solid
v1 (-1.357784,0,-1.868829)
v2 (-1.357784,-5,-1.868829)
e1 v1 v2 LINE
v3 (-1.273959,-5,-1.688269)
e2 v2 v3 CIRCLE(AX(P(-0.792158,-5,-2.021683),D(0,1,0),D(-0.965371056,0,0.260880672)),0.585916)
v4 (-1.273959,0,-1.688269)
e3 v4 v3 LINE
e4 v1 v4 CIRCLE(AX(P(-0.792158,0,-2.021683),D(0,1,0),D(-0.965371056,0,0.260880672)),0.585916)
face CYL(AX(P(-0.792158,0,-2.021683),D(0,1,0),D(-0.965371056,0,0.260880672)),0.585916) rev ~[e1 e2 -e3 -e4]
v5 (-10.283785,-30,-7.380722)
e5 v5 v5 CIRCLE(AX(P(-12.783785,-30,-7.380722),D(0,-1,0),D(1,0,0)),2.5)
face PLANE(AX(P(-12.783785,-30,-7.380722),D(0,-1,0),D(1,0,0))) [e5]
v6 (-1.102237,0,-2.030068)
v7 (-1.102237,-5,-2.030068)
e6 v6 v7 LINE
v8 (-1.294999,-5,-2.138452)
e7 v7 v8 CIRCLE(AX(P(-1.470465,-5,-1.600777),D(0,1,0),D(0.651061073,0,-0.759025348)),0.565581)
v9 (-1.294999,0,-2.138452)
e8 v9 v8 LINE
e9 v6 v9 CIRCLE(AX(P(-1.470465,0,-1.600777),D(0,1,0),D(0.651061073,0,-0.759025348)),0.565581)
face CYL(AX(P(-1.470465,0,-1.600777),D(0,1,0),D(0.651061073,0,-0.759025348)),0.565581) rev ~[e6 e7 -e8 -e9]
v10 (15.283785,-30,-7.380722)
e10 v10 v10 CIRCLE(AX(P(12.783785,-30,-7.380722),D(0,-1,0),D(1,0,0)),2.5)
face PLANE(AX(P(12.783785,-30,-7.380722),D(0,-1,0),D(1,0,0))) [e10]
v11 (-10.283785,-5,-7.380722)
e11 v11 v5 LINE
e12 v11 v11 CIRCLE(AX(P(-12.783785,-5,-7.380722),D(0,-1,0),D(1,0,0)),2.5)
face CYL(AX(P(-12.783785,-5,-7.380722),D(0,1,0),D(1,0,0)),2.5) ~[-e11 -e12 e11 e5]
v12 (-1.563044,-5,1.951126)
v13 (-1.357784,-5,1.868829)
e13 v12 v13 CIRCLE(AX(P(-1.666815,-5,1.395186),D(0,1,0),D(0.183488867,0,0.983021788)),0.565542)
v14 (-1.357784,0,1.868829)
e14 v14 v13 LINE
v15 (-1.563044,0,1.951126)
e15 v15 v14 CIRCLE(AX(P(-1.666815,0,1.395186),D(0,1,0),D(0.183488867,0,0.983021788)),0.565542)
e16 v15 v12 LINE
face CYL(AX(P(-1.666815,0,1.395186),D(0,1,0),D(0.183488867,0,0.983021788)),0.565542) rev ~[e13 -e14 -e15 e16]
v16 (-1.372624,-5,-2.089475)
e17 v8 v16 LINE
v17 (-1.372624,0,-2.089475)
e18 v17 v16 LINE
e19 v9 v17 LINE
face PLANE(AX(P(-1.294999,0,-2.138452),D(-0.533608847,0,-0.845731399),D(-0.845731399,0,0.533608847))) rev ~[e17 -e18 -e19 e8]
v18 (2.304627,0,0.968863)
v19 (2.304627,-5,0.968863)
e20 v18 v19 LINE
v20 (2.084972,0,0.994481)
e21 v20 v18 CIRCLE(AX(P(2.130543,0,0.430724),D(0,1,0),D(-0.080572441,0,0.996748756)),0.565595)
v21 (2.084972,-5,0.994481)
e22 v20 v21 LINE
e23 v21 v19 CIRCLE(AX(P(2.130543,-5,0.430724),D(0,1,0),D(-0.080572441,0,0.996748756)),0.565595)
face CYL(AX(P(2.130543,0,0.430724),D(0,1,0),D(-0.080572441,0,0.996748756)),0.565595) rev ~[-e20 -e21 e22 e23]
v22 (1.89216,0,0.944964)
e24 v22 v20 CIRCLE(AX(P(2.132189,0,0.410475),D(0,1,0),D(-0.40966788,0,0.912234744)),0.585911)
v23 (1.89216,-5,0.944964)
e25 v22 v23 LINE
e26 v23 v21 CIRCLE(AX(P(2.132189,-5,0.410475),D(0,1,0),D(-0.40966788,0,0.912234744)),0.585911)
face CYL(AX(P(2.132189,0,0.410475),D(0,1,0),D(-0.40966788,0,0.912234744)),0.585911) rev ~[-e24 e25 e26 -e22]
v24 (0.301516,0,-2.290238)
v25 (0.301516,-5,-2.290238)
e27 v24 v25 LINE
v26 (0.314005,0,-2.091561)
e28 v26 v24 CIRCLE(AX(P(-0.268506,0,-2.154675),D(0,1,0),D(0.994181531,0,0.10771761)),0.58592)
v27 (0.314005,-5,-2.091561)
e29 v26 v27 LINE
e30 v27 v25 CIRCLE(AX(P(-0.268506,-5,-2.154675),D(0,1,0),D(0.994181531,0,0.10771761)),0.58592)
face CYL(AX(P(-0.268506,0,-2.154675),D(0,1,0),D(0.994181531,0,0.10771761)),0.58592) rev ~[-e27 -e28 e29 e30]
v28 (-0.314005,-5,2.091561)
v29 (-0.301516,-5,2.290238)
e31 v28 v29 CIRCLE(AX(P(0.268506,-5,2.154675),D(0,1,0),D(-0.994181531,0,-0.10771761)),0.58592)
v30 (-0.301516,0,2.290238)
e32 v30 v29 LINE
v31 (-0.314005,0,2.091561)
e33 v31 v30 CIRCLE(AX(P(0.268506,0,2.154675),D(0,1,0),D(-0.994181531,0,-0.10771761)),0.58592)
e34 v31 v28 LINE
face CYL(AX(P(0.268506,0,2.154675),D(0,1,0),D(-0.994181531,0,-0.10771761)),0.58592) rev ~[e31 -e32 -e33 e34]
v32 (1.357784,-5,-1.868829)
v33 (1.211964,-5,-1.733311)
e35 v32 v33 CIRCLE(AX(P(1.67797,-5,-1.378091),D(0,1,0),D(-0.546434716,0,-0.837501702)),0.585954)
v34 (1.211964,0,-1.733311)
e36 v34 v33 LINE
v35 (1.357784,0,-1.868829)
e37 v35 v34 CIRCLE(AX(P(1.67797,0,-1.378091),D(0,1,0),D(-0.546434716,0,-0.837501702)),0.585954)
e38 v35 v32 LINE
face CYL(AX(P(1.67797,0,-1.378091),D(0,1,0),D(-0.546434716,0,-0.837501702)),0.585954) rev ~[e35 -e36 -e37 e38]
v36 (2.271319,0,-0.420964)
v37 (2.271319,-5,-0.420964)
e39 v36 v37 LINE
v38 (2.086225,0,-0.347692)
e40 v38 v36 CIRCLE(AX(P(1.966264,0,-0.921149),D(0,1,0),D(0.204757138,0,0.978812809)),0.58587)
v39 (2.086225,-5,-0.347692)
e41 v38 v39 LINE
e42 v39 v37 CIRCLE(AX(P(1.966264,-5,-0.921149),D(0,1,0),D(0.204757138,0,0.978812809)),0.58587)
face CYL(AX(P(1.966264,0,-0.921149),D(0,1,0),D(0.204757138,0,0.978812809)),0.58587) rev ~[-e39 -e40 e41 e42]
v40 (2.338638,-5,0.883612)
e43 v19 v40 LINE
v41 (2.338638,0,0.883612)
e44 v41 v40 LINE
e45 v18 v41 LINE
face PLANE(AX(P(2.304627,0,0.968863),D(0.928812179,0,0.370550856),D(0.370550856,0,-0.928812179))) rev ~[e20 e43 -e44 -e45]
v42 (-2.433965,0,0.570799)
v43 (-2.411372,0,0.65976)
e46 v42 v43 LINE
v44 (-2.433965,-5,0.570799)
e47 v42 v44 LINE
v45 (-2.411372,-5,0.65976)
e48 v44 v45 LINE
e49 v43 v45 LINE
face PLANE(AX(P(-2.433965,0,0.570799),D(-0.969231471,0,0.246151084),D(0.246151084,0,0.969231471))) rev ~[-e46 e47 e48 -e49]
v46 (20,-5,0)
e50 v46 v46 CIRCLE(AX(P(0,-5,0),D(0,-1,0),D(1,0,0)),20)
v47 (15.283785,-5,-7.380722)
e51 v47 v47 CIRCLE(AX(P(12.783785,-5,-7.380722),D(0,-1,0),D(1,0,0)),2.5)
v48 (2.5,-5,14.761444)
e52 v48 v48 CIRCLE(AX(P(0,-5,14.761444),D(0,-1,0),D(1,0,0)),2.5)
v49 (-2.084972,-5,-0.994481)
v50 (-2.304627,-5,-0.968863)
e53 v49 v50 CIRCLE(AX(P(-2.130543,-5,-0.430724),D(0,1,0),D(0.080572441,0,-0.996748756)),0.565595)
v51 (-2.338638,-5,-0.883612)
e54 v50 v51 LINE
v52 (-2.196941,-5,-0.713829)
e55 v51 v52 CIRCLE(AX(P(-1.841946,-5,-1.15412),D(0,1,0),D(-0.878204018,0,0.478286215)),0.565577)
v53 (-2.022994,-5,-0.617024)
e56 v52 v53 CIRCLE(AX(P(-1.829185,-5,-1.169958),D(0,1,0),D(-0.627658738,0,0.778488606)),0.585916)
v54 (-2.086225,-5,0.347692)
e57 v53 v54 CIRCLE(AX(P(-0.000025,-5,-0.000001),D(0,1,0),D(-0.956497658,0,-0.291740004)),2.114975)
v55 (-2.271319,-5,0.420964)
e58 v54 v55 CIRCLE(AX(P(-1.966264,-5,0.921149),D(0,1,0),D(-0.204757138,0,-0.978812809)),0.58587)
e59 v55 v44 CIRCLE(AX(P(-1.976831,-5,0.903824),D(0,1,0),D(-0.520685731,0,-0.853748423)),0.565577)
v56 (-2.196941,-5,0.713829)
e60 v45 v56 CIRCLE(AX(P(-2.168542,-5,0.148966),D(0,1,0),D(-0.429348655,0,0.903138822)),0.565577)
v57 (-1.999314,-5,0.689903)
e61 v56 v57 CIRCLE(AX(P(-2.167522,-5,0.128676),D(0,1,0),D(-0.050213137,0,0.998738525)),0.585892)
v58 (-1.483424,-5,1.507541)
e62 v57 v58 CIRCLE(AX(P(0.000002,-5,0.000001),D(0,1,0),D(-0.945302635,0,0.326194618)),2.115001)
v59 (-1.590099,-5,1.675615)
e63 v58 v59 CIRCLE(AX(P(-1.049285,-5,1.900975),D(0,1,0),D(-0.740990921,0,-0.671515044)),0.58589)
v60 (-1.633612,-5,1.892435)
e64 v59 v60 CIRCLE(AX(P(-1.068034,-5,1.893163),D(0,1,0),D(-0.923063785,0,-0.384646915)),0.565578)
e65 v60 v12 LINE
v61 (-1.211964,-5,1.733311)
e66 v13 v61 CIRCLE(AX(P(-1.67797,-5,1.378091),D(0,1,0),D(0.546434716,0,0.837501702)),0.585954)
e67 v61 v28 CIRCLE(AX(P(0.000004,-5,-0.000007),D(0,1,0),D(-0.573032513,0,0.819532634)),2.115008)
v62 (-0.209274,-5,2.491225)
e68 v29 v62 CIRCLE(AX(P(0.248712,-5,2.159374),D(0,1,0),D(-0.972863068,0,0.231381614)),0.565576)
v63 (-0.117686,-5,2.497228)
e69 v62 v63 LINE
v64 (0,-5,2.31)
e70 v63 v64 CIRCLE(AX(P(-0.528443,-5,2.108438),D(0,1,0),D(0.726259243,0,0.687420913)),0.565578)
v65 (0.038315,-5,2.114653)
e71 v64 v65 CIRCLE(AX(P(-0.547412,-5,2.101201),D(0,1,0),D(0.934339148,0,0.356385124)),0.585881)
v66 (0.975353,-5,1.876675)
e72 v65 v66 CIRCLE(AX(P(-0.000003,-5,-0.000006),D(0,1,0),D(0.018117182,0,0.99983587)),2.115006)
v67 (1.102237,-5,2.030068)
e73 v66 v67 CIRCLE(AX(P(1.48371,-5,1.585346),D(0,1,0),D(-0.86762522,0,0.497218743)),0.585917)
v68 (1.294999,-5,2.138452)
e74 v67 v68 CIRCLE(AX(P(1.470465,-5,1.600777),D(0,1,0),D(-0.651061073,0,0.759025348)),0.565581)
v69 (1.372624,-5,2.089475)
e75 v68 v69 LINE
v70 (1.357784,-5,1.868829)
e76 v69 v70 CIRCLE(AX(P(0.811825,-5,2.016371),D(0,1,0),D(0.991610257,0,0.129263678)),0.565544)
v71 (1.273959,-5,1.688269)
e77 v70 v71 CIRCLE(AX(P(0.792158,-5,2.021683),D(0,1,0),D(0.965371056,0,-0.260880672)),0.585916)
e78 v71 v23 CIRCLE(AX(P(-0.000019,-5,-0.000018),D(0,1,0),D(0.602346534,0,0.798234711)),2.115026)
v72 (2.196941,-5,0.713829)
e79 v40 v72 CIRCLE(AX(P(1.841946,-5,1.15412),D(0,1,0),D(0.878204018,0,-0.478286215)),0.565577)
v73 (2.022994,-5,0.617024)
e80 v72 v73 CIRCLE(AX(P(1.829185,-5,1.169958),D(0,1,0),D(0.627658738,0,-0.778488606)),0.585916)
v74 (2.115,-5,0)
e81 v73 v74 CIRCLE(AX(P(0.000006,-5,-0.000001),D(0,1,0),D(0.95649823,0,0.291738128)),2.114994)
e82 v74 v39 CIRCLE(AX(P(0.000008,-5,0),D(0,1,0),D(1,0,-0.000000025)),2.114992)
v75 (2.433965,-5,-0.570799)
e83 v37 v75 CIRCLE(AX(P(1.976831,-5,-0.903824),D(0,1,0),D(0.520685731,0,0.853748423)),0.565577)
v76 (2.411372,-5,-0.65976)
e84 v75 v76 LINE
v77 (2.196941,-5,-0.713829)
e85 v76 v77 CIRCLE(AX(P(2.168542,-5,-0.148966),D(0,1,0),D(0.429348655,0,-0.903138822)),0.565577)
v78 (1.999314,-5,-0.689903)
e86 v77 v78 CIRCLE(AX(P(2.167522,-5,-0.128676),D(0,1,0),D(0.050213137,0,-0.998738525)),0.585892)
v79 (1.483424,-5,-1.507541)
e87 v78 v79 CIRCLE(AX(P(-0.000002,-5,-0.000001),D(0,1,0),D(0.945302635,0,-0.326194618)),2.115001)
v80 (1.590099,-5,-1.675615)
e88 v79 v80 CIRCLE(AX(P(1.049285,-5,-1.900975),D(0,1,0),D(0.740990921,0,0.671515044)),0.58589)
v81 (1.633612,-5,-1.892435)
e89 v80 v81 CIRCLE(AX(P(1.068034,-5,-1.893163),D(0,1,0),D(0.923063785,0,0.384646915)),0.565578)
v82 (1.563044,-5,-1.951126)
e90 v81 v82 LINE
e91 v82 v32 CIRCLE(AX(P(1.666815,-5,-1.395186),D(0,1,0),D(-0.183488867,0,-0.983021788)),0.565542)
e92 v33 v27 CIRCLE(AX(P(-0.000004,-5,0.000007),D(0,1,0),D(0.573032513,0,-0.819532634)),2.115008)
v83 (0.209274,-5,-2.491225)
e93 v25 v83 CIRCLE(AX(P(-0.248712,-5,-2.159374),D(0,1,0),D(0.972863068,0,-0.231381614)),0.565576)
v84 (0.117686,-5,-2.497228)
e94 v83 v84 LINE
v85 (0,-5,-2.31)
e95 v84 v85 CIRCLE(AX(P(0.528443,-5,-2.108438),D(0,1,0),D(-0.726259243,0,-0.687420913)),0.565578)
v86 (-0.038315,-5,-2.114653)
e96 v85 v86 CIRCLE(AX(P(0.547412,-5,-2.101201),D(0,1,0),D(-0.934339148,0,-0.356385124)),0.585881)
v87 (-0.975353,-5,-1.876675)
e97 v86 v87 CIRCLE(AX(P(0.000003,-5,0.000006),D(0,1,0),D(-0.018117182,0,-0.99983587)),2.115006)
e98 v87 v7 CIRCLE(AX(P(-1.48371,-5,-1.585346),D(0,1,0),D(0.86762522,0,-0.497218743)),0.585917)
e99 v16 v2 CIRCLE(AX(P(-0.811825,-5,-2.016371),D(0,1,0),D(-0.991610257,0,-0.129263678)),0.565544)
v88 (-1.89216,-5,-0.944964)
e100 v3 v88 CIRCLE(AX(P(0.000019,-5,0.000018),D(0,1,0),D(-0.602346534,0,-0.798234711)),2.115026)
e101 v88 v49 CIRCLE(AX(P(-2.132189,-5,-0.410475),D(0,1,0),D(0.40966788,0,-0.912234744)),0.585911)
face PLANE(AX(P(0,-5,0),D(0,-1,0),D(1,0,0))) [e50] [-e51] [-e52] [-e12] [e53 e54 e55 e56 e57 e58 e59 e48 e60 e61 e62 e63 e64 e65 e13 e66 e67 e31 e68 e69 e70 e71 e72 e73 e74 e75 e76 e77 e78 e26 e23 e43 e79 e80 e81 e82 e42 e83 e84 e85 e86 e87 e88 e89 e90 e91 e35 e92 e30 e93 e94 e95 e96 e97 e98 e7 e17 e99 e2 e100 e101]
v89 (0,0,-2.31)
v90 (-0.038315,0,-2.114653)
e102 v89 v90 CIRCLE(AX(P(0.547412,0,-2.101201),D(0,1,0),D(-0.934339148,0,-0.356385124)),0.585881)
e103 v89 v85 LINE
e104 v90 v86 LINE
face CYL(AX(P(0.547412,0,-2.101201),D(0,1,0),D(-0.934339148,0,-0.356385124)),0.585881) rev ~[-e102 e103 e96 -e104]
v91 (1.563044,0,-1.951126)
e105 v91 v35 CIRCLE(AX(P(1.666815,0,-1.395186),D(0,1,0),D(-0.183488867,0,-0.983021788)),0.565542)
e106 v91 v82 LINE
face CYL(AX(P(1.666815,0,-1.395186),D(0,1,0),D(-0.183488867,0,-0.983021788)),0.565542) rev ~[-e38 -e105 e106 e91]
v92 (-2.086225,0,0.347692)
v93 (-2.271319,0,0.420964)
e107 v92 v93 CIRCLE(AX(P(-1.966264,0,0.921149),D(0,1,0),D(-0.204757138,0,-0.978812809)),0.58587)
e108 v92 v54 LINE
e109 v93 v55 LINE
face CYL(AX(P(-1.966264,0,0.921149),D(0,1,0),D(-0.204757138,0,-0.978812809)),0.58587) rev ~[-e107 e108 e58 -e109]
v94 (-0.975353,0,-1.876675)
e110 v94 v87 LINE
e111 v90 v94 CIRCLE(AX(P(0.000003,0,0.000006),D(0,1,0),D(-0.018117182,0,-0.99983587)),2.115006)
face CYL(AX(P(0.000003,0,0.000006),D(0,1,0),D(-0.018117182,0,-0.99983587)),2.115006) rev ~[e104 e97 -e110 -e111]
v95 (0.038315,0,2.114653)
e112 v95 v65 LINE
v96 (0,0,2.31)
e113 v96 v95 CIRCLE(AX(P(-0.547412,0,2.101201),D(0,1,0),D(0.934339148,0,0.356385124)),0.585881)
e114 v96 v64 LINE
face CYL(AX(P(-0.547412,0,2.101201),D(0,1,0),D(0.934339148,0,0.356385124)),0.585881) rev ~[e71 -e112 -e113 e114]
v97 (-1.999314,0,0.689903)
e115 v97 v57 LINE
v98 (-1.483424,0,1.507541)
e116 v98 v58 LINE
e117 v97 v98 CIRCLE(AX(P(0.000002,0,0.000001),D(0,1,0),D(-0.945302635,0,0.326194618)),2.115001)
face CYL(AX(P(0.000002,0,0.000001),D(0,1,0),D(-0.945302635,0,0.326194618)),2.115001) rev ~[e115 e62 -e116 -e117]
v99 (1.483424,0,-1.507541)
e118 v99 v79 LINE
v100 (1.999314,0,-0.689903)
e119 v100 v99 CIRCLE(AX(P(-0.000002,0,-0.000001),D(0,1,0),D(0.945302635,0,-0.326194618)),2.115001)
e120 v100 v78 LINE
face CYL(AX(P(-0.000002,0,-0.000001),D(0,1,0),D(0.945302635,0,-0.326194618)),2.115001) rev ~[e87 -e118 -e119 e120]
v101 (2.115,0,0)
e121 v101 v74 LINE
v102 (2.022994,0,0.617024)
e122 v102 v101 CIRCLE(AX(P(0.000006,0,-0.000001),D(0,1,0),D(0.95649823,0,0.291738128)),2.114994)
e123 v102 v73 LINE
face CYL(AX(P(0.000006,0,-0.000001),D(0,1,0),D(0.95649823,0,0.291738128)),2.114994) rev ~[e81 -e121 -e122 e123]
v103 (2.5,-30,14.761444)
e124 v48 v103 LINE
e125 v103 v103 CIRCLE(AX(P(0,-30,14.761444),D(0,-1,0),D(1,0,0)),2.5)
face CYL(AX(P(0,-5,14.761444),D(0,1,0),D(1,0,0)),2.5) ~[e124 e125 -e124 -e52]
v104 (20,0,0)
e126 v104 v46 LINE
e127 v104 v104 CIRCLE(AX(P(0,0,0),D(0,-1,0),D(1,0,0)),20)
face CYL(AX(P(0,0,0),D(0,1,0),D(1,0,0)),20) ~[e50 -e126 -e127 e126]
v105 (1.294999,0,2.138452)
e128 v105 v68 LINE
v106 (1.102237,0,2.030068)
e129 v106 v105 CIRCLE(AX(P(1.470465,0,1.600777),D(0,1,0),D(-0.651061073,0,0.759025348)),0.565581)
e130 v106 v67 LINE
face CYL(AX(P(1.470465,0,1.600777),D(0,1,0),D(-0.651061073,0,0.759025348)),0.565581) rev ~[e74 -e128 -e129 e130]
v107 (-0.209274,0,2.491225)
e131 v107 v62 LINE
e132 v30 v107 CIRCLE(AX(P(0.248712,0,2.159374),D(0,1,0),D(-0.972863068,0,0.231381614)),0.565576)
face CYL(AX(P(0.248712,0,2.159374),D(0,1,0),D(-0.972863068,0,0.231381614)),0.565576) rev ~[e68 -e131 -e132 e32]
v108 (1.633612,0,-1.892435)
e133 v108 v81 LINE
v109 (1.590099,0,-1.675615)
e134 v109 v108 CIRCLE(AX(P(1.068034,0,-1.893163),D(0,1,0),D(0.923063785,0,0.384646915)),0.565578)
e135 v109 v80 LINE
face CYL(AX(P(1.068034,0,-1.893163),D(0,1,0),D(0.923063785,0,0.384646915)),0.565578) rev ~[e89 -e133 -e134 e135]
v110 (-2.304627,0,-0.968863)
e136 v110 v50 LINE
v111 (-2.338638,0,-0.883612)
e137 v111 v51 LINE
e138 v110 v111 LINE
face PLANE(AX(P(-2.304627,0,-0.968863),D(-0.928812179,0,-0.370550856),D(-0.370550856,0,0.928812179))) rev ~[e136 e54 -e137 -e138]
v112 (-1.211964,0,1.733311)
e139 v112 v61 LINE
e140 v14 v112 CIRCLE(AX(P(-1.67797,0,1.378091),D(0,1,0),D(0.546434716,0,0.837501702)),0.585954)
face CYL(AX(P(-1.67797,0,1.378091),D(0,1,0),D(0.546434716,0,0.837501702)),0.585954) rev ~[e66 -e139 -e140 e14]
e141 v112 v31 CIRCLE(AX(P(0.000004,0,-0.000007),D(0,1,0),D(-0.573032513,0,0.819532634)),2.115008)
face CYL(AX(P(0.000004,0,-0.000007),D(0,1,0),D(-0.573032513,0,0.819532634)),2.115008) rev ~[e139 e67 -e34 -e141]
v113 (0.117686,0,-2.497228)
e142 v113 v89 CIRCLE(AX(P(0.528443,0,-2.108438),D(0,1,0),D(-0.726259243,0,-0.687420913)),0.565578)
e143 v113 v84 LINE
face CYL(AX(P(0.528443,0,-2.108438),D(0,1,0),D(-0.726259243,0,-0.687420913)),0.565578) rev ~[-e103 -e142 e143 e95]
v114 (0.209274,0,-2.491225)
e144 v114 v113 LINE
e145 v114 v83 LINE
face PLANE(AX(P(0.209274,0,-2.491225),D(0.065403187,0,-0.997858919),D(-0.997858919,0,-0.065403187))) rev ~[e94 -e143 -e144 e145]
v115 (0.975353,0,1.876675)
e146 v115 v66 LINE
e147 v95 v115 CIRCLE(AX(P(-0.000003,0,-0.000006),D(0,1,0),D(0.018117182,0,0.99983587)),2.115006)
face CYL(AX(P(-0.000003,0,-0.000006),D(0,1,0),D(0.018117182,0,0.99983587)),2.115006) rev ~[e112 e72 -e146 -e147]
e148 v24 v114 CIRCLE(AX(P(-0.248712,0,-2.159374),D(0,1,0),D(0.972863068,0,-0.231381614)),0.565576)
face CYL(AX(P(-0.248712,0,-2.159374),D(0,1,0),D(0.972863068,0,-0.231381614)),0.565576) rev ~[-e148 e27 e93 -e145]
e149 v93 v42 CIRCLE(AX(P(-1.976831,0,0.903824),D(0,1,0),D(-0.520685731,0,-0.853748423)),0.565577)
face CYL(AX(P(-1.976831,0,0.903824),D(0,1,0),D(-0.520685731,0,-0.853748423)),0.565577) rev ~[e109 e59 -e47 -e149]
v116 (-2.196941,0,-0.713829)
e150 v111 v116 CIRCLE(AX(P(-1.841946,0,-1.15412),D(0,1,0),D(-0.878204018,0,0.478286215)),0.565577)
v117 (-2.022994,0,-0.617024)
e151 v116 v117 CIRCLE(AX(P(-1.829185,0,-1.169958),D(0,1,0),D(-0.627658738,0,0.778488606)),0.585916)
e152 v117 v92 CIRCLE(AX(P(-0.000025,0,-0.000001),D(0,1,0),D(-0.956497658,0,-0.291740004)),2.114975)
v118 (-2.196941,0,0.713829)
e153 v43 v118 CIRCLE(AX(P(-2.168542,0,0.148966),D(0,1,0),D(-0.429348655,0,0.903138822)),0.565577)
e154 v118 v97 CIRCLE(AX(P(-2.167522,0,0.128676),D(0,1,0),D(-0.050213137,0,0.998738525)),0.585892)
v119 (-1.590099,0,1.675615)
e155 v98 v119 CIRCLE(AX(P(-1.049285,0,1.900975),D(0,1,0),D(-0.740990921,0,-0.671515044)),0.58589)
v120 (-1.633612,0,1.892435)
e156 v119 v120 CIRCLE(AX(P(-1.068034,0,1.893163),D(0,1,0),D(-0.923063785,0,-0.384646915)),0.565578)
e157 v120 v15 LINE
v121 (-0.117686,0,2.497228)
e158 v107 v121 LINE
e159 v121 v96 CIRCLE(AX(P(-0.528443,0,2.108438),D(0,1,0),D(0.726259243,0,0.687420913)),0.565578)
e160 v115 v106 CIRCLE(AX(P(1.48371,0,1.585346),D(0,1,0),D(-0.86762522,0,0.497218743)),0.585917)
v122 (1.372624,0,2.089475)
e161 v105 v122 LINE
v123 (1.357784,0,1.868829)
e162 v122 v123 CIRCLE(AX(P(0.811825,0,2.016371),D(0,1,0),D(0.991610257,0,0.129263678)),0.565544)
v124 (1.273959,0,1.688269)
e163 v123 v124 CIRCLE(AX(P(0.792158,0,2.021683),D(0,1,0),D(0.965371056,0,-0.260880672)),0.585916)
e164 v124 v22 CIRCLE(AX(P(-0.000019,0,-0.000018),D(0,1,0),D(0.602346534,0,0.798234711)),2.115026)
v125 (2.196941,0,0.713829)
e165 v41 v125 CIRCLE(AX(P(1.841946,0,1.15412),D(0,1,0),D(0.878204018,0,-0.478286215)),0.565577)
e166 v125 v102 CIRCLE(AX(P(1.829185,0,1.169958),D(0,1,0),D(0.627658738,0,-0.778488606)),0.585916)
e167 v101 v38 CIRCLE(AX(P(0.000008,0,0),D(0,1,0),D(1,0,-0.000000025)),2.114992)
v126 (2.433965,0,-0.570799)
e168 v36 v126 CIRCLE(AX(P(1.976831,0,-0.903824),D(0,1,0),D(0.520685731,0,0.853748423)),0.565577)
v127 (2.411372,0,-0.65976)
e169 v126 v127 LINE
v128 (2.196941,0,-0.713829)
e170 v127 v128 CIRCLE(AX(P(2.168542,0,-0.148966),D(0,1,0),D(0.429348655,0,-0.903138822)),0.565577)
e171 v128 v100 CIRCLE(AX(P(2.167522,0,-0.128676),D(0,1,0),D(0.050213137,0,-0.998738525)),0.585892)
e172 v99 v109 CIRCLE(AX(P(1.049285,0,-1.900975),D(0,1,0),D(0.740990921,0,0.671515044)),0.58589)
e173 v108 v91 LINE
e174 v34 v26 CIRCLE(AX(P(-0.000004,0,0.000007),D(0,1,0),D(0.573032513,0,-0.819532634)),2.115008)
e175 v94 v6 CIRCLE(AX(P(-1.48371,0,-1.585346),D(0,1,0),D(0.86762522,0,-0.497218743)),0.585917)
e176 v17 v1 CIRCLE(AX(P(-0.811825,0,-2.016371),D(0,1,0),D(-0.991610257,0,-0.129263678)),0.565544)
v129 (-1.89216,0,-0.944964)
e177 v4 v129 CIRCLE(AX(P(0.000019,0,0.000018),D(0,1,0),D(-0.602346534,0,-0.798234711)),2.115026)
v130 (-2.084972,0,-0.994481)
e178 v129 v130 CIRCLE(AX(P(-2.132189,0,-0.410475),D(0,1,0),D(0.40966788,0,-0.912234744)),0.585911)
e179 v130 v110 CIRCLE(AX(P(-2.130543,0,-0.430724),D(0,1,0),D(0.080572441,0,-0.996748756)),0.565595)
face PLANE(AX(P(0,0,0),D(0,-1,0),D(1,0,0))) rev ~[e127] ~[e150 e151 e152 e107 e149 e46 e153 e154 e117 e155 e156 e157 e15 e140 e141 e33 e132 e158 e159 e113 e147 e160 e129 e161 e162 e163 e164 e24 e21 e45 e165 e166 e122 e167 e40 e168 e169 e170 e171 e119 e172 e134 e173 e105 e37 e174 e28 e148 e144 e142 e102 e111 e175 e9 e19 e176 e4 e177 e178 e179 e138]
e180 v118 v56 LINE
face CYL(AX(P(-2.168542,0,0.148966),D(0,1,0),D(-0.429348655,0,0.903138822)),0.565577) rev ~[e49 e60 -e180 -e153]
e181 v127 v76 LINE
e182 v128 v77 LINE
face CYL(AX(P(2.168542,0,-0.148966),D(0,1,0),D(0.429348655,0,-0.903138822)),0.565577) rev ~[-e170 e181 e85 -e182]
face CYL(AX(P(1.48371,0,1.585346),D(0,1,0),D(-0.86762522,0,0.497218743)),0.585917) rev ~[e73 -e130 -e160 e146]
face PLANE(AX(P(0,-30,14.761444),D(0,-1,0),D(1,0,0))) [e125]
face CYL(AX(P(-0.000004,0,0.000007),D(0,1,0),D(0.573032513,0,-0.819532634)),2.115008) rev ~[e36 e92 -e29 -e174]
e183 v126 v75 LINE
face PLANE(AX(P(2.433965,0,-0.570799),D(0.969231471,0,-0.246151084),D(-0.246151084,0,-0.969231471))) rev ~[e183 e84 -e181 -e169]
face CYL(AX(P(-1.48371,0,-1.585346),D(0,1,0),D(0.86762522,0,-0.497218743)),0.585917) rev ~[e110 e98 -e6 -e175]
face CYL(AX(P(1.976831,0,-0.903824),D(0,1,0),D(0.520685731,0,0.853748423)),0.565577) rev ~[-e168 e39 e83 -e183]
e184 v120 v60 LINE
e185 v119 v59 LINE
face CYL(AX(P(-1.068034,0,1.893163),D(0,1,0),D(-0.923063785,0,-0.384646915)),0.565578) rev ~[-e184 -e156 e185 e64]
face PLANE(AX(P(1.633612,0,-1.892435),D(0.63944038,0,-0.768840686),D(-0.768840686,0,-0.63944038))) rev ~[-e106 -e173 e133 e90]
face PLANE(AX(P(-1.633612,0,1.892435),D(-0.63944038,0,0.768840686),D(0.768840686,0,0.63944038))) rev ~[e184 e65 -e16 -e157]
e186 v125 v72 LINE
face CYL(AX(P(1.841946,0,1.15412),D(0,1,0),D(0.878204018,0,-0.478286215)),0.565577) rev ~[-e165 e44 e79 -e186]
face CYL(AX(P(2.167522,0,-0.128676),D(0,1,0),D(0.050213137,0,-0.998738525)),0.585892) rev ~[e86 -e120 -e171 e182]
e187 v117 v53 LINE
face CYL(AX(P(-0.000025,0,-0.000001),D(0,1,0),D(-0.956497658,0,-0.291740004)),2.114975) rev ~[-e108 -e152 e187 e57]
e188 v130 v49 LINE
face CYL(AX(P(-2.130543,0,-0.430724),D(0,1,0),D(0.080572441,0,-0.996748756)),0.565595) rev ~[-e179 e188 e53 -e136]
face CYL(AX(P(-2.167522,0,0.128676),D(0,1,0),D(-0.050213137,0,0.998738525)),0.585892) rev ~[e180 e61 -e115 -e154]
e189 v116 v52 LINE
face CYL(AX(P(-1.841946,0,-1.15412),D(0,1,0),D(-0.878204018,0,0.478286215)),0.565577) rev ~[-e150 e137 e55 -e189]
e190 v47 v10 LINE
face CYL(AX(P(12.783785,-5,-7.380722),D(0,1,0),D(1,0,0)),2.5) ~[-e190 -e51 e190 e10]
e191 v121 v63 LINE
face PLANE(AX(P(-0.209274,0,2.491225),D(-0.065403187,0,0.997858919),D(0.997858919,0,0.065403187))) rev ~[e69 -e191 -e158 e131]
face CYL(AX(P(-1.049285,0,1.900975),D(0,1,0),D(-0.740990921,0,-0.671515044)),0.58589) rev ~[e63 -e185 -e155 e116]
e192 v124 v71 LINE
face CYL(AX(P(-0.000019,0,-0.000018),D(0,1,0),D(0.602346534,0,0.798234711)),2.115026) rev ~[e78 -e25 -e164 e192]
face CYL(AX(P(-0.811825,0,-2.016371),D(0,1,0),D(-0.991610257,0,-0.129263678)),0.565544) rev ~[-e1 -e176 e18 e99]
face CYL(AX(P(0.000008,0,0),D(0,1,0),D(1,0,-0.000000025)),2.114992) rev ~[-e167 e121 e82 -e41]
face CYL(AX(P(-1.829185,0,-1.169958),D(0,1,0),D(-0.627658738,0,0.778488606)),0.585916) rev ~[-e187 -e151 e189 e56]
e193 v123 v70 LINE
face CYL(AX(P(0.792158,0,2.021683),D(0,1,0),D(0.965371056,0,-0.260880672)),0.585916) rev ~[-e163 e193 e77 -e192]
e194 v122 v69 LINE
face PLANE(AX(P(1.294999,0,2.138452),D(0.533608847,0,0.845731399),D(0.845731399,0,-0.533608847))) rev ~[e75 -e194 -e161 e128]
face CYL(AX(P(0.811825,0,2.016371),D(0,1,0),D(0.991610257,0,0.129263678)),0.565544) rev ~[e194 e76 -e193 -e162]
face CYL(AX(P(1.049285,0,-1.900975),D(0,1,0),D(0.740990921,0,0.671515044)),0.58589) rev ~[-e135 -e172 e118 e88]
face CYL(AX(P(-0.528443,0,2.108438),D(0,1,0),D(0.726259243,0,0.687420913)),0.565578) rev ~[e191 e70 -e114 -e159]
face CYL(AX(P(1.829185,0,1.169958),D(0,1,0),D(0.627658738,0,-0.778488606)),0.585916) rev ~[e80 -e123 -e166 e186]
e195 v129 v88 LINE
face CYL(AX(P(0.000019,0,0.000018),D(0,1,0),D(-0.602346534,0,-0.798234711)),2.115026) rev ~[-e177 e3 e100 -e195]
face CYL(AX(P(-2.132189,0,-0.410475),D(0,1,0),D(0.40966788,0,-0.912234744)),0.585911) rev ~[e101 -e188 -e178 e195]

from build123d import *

# Parameters (mm, degrees)
F0_R     = 20
F1_DEPTH = 5
F2_R     = 2.5
F3_DEPTH = 25


with BuildPart() as f1:
    # F0 (on Front) → F1 (new body)
    with BuildSketch(Plane.XZ):
        Circle(F0_R)
        with BuildLine():
            ThreePointArc((2.022994, 0.617024), (2.091872, 0.311923), (2.115, 0))
            ThreePointArc((2.115, 0), (2.107794, -0.17444), (2.086225, -0.347692))
            ThreePointArc((2.086225, -0.347692), (2.181907, -0.376409), (2.271319, -0.420964))
            ThreePointArc((2.271319, -0.420964), (2.360037, -0.487855), (2.433965, -0.570799))
            Line((2.433965, -0.570799), (2.411372, -0.65976))
            ThreePointArc((2.411372, -0.65976), (2.306825, -0.697377), (2.196941, -0.713829))
            ThreePointArc((2.196941, -0.713829), (2.097104, -0.710321), (1.999314, -0.689903))
            ThreePointArc((1.999314, -0.689903), (1.788714, -1.128595), (1.483424, -1.507541))
            ThreePointArc((1.483424, -1.507541), (1.543952, -1.587014), (1.590099, -1.675615))
            ThreePointArc((1.590099, -1.675615), (1.622556, -1.781878), (1.633612, -1.892435))
            Line((1.633612, -1.892435), (1.563044, -1.951126))
            ThreePointArc((1.563044, -1.951126), (1.456352, -1.920108), (1.357784, -1.868829))
            ThreePointArc((1.357784, -1.868829), (1.279077, -1.807308), (1.211964, -1.733311))
            ThreePointArc((1.211964, -1.733311), (0.783729, -1.964432), (0.314005, -2.091561))
            ThreePointArc((0.314005, -2.091561), (0.31626, -2.191433), (0.301516, -2.290238))
            ThreePointArc((0.301516, -2.290238), (0.265314, -2.395284), (0.209274, -2.491225))
            Line((0.209274, -2.491225), (0.117686, -2.497228))
            ThreePointArc((0.117686, -2.497228), (0.049603, -2.409422), (0, -2.31))
            ThreePointArc((0, -2.31), (-0.027515, -2.213966), (-0.038315, -2.114653))
            ThreePointArc((-0.038315, -2.114653), (-0.520614, -2.049923), (-0.975353, -1.876675))
            ThreePointArc((-0.975353, -1.876675), (-1.032233, -1.9588), (-1.102237, -2.030068))
            ThreePointArc((-1.102237, -2.030068), (-1.193269, -2.093773), (-1.294999, -2.138452))
            Line((-1.294999, -2.138452), (-1.372624, -2.089475))
            ThreePointArc((-1.372624, -2.089475), (-1.376094, -1.97842), (-1.357784, -1.868829))
            ThreePointArc((-1.357784, -1.868829), (-1.323596, -1.774963), (-1.273959, -1.688269))
            ThreePointArc((-1.273959, -1.688269), (-1.6261, -1.352413), (-1.89216, -0.944964))
            ThreePointArc((-1.89216, -0.944964), (-1.986447, -0.977971), (-2.084972, -0.994481))
            ThreePointArc((-2.084972, -0.994481), (-2.196064, -0.992512), (-2.304627, -0.968863))
            Line((-2.304627, -0.968863), (-2.338638, -0.883612))
            ThreePointArc((-2.338638, -0.883612), (-2.276169, -0.791728), (-2.196941, -0.713829))
            ThreePointArc((-2.196941, -0.713829), (-2.114109, -0.657985), (-2.022994, -0.617024))
            ThreePointArc((-2.022994, -0.617024), (-2.110472, -0.138328), (-2.086225, 0.347692))
            ThreePointArc((-2.086225, 0.347692), (-2.181907, 0.376409), (-2.271319, 0.420964))
            ThreePointArc((-2.271319, 0.420964), (-2.360037, 0.487855), (-2.433965, 0.570799))
            Line((-2.433965, 0.570799), (-2.411372, 0.65976))
            ThreePointArc((-2.411372, 0.65976), (-2.306825, 0.697377), (-2.196941, 0.713829))
            ThreePointArc((-2.196941, 0.713829), (-2.097104, 0.710321), (-1.999314, 0.689903))
            ThreePointArc((-1.999314, 0.689903), (-1.788714, 1.128595), (-1.483424, 1.507541))
            ThreePointArc((-1.483424, 1.507541), (-1.543952, 1.587014), (-1.590099, 1.675615))
            ThreePointArc((-1.590099, 1.675615), (-1.622556, 1.781878), (-1.633612, 1.892435))
            Line((-1.633612, 1.892435), (-1.563044, 1.951126))
            ThreePointArc((-1.563044, 1.951126), (-1.456352, 1.920108), (-1.357784, 1.868829))
            ThreePointArc((-1.357784, 1.868829), (-1.279077, 1.807308), (-1.211964, 1.733311))
            ThreePointArc((-1.211964, 1.733311), (-0.783729, 1.964432), (-0.314005, 2.091561))
            ThreePointArc((-0.314005, 2.091561), (-0.31626, 2.191433), (-0.301516, 2.290238))
            ThreePointArc((-0.301516, 2.290238), (-0.265314, 2.395284), (-0.209274, 2.491225))
            Line((-0.209274, 2.491225), (-0.117686, 2.497228))
            ThreePointArc((-0.117686, 2.497228), (-0.049603, 2.409422), (0, 2.31))
            ThreePointArc((0, 2.31), (0.027515, 2.213966), (0.038315, 2.114653))
            ThreePointArc((0.038315, 2.114653), (0.520614, 2.049923), (0.975353, 1.876675))
            ThreePointArc((0.975353, 1.876675), (1.032233, 1.9588), (1.102237, 2.030068))
            ThreePointArc((1.102237, 2.030068), (1.193269, 2.093773), (1.294999, 2.138452))
            Line((1.294999, 2.138452), (1.372624, 2.089475))
            ThreePointArc((1.372624, 2.089475), (1.376094, 1.97842), (1.357784, 1.868829))
            ThreePointArc((1.357784, 1.868829), (1.323596, 1.774963), (1.273959, 1.688269))
            ThreePointArc((1.273959, 1.688269), (1.6261, 1.352413), (1.89216, 0.944964))
            ThreePointArc((1.89216, 0.944964), (1.986447, 0.977971), (2.084972, 0.994481))
            ThreePointArc((2.084972, 0.994481), (2.196064, 0.992512), (2.304627, 0.968863))
            Line((2.304627, 0.968863), (2.338638, 0.883612))
            ThreePointArc((2.338638, 0.883612), (2.276169, 0.791728), (2.196941, 0.713829))
            ThreePointArc((2.196941, 0.713829), (2.114109, 0.657985), (2.022994, 0.617024))
        make_face(mode=Mode.SUBTRACT)
    extrude(amount=F1_DEPTH)

    # F2 (on face) → F3 (join)
    with BuildSketch(Plane.XZ.offset(5)):
        with Locations((0, 14.761444)):
            Circle(F2_R)
        with Locations((-12.783785, -7.380722)):
            Circle(F2_R)
        with Locations((12.783785, -7.380722)):
            Circle(F2_R)
    extrude(amount=F3_DEPTH)


solid = f1.part
